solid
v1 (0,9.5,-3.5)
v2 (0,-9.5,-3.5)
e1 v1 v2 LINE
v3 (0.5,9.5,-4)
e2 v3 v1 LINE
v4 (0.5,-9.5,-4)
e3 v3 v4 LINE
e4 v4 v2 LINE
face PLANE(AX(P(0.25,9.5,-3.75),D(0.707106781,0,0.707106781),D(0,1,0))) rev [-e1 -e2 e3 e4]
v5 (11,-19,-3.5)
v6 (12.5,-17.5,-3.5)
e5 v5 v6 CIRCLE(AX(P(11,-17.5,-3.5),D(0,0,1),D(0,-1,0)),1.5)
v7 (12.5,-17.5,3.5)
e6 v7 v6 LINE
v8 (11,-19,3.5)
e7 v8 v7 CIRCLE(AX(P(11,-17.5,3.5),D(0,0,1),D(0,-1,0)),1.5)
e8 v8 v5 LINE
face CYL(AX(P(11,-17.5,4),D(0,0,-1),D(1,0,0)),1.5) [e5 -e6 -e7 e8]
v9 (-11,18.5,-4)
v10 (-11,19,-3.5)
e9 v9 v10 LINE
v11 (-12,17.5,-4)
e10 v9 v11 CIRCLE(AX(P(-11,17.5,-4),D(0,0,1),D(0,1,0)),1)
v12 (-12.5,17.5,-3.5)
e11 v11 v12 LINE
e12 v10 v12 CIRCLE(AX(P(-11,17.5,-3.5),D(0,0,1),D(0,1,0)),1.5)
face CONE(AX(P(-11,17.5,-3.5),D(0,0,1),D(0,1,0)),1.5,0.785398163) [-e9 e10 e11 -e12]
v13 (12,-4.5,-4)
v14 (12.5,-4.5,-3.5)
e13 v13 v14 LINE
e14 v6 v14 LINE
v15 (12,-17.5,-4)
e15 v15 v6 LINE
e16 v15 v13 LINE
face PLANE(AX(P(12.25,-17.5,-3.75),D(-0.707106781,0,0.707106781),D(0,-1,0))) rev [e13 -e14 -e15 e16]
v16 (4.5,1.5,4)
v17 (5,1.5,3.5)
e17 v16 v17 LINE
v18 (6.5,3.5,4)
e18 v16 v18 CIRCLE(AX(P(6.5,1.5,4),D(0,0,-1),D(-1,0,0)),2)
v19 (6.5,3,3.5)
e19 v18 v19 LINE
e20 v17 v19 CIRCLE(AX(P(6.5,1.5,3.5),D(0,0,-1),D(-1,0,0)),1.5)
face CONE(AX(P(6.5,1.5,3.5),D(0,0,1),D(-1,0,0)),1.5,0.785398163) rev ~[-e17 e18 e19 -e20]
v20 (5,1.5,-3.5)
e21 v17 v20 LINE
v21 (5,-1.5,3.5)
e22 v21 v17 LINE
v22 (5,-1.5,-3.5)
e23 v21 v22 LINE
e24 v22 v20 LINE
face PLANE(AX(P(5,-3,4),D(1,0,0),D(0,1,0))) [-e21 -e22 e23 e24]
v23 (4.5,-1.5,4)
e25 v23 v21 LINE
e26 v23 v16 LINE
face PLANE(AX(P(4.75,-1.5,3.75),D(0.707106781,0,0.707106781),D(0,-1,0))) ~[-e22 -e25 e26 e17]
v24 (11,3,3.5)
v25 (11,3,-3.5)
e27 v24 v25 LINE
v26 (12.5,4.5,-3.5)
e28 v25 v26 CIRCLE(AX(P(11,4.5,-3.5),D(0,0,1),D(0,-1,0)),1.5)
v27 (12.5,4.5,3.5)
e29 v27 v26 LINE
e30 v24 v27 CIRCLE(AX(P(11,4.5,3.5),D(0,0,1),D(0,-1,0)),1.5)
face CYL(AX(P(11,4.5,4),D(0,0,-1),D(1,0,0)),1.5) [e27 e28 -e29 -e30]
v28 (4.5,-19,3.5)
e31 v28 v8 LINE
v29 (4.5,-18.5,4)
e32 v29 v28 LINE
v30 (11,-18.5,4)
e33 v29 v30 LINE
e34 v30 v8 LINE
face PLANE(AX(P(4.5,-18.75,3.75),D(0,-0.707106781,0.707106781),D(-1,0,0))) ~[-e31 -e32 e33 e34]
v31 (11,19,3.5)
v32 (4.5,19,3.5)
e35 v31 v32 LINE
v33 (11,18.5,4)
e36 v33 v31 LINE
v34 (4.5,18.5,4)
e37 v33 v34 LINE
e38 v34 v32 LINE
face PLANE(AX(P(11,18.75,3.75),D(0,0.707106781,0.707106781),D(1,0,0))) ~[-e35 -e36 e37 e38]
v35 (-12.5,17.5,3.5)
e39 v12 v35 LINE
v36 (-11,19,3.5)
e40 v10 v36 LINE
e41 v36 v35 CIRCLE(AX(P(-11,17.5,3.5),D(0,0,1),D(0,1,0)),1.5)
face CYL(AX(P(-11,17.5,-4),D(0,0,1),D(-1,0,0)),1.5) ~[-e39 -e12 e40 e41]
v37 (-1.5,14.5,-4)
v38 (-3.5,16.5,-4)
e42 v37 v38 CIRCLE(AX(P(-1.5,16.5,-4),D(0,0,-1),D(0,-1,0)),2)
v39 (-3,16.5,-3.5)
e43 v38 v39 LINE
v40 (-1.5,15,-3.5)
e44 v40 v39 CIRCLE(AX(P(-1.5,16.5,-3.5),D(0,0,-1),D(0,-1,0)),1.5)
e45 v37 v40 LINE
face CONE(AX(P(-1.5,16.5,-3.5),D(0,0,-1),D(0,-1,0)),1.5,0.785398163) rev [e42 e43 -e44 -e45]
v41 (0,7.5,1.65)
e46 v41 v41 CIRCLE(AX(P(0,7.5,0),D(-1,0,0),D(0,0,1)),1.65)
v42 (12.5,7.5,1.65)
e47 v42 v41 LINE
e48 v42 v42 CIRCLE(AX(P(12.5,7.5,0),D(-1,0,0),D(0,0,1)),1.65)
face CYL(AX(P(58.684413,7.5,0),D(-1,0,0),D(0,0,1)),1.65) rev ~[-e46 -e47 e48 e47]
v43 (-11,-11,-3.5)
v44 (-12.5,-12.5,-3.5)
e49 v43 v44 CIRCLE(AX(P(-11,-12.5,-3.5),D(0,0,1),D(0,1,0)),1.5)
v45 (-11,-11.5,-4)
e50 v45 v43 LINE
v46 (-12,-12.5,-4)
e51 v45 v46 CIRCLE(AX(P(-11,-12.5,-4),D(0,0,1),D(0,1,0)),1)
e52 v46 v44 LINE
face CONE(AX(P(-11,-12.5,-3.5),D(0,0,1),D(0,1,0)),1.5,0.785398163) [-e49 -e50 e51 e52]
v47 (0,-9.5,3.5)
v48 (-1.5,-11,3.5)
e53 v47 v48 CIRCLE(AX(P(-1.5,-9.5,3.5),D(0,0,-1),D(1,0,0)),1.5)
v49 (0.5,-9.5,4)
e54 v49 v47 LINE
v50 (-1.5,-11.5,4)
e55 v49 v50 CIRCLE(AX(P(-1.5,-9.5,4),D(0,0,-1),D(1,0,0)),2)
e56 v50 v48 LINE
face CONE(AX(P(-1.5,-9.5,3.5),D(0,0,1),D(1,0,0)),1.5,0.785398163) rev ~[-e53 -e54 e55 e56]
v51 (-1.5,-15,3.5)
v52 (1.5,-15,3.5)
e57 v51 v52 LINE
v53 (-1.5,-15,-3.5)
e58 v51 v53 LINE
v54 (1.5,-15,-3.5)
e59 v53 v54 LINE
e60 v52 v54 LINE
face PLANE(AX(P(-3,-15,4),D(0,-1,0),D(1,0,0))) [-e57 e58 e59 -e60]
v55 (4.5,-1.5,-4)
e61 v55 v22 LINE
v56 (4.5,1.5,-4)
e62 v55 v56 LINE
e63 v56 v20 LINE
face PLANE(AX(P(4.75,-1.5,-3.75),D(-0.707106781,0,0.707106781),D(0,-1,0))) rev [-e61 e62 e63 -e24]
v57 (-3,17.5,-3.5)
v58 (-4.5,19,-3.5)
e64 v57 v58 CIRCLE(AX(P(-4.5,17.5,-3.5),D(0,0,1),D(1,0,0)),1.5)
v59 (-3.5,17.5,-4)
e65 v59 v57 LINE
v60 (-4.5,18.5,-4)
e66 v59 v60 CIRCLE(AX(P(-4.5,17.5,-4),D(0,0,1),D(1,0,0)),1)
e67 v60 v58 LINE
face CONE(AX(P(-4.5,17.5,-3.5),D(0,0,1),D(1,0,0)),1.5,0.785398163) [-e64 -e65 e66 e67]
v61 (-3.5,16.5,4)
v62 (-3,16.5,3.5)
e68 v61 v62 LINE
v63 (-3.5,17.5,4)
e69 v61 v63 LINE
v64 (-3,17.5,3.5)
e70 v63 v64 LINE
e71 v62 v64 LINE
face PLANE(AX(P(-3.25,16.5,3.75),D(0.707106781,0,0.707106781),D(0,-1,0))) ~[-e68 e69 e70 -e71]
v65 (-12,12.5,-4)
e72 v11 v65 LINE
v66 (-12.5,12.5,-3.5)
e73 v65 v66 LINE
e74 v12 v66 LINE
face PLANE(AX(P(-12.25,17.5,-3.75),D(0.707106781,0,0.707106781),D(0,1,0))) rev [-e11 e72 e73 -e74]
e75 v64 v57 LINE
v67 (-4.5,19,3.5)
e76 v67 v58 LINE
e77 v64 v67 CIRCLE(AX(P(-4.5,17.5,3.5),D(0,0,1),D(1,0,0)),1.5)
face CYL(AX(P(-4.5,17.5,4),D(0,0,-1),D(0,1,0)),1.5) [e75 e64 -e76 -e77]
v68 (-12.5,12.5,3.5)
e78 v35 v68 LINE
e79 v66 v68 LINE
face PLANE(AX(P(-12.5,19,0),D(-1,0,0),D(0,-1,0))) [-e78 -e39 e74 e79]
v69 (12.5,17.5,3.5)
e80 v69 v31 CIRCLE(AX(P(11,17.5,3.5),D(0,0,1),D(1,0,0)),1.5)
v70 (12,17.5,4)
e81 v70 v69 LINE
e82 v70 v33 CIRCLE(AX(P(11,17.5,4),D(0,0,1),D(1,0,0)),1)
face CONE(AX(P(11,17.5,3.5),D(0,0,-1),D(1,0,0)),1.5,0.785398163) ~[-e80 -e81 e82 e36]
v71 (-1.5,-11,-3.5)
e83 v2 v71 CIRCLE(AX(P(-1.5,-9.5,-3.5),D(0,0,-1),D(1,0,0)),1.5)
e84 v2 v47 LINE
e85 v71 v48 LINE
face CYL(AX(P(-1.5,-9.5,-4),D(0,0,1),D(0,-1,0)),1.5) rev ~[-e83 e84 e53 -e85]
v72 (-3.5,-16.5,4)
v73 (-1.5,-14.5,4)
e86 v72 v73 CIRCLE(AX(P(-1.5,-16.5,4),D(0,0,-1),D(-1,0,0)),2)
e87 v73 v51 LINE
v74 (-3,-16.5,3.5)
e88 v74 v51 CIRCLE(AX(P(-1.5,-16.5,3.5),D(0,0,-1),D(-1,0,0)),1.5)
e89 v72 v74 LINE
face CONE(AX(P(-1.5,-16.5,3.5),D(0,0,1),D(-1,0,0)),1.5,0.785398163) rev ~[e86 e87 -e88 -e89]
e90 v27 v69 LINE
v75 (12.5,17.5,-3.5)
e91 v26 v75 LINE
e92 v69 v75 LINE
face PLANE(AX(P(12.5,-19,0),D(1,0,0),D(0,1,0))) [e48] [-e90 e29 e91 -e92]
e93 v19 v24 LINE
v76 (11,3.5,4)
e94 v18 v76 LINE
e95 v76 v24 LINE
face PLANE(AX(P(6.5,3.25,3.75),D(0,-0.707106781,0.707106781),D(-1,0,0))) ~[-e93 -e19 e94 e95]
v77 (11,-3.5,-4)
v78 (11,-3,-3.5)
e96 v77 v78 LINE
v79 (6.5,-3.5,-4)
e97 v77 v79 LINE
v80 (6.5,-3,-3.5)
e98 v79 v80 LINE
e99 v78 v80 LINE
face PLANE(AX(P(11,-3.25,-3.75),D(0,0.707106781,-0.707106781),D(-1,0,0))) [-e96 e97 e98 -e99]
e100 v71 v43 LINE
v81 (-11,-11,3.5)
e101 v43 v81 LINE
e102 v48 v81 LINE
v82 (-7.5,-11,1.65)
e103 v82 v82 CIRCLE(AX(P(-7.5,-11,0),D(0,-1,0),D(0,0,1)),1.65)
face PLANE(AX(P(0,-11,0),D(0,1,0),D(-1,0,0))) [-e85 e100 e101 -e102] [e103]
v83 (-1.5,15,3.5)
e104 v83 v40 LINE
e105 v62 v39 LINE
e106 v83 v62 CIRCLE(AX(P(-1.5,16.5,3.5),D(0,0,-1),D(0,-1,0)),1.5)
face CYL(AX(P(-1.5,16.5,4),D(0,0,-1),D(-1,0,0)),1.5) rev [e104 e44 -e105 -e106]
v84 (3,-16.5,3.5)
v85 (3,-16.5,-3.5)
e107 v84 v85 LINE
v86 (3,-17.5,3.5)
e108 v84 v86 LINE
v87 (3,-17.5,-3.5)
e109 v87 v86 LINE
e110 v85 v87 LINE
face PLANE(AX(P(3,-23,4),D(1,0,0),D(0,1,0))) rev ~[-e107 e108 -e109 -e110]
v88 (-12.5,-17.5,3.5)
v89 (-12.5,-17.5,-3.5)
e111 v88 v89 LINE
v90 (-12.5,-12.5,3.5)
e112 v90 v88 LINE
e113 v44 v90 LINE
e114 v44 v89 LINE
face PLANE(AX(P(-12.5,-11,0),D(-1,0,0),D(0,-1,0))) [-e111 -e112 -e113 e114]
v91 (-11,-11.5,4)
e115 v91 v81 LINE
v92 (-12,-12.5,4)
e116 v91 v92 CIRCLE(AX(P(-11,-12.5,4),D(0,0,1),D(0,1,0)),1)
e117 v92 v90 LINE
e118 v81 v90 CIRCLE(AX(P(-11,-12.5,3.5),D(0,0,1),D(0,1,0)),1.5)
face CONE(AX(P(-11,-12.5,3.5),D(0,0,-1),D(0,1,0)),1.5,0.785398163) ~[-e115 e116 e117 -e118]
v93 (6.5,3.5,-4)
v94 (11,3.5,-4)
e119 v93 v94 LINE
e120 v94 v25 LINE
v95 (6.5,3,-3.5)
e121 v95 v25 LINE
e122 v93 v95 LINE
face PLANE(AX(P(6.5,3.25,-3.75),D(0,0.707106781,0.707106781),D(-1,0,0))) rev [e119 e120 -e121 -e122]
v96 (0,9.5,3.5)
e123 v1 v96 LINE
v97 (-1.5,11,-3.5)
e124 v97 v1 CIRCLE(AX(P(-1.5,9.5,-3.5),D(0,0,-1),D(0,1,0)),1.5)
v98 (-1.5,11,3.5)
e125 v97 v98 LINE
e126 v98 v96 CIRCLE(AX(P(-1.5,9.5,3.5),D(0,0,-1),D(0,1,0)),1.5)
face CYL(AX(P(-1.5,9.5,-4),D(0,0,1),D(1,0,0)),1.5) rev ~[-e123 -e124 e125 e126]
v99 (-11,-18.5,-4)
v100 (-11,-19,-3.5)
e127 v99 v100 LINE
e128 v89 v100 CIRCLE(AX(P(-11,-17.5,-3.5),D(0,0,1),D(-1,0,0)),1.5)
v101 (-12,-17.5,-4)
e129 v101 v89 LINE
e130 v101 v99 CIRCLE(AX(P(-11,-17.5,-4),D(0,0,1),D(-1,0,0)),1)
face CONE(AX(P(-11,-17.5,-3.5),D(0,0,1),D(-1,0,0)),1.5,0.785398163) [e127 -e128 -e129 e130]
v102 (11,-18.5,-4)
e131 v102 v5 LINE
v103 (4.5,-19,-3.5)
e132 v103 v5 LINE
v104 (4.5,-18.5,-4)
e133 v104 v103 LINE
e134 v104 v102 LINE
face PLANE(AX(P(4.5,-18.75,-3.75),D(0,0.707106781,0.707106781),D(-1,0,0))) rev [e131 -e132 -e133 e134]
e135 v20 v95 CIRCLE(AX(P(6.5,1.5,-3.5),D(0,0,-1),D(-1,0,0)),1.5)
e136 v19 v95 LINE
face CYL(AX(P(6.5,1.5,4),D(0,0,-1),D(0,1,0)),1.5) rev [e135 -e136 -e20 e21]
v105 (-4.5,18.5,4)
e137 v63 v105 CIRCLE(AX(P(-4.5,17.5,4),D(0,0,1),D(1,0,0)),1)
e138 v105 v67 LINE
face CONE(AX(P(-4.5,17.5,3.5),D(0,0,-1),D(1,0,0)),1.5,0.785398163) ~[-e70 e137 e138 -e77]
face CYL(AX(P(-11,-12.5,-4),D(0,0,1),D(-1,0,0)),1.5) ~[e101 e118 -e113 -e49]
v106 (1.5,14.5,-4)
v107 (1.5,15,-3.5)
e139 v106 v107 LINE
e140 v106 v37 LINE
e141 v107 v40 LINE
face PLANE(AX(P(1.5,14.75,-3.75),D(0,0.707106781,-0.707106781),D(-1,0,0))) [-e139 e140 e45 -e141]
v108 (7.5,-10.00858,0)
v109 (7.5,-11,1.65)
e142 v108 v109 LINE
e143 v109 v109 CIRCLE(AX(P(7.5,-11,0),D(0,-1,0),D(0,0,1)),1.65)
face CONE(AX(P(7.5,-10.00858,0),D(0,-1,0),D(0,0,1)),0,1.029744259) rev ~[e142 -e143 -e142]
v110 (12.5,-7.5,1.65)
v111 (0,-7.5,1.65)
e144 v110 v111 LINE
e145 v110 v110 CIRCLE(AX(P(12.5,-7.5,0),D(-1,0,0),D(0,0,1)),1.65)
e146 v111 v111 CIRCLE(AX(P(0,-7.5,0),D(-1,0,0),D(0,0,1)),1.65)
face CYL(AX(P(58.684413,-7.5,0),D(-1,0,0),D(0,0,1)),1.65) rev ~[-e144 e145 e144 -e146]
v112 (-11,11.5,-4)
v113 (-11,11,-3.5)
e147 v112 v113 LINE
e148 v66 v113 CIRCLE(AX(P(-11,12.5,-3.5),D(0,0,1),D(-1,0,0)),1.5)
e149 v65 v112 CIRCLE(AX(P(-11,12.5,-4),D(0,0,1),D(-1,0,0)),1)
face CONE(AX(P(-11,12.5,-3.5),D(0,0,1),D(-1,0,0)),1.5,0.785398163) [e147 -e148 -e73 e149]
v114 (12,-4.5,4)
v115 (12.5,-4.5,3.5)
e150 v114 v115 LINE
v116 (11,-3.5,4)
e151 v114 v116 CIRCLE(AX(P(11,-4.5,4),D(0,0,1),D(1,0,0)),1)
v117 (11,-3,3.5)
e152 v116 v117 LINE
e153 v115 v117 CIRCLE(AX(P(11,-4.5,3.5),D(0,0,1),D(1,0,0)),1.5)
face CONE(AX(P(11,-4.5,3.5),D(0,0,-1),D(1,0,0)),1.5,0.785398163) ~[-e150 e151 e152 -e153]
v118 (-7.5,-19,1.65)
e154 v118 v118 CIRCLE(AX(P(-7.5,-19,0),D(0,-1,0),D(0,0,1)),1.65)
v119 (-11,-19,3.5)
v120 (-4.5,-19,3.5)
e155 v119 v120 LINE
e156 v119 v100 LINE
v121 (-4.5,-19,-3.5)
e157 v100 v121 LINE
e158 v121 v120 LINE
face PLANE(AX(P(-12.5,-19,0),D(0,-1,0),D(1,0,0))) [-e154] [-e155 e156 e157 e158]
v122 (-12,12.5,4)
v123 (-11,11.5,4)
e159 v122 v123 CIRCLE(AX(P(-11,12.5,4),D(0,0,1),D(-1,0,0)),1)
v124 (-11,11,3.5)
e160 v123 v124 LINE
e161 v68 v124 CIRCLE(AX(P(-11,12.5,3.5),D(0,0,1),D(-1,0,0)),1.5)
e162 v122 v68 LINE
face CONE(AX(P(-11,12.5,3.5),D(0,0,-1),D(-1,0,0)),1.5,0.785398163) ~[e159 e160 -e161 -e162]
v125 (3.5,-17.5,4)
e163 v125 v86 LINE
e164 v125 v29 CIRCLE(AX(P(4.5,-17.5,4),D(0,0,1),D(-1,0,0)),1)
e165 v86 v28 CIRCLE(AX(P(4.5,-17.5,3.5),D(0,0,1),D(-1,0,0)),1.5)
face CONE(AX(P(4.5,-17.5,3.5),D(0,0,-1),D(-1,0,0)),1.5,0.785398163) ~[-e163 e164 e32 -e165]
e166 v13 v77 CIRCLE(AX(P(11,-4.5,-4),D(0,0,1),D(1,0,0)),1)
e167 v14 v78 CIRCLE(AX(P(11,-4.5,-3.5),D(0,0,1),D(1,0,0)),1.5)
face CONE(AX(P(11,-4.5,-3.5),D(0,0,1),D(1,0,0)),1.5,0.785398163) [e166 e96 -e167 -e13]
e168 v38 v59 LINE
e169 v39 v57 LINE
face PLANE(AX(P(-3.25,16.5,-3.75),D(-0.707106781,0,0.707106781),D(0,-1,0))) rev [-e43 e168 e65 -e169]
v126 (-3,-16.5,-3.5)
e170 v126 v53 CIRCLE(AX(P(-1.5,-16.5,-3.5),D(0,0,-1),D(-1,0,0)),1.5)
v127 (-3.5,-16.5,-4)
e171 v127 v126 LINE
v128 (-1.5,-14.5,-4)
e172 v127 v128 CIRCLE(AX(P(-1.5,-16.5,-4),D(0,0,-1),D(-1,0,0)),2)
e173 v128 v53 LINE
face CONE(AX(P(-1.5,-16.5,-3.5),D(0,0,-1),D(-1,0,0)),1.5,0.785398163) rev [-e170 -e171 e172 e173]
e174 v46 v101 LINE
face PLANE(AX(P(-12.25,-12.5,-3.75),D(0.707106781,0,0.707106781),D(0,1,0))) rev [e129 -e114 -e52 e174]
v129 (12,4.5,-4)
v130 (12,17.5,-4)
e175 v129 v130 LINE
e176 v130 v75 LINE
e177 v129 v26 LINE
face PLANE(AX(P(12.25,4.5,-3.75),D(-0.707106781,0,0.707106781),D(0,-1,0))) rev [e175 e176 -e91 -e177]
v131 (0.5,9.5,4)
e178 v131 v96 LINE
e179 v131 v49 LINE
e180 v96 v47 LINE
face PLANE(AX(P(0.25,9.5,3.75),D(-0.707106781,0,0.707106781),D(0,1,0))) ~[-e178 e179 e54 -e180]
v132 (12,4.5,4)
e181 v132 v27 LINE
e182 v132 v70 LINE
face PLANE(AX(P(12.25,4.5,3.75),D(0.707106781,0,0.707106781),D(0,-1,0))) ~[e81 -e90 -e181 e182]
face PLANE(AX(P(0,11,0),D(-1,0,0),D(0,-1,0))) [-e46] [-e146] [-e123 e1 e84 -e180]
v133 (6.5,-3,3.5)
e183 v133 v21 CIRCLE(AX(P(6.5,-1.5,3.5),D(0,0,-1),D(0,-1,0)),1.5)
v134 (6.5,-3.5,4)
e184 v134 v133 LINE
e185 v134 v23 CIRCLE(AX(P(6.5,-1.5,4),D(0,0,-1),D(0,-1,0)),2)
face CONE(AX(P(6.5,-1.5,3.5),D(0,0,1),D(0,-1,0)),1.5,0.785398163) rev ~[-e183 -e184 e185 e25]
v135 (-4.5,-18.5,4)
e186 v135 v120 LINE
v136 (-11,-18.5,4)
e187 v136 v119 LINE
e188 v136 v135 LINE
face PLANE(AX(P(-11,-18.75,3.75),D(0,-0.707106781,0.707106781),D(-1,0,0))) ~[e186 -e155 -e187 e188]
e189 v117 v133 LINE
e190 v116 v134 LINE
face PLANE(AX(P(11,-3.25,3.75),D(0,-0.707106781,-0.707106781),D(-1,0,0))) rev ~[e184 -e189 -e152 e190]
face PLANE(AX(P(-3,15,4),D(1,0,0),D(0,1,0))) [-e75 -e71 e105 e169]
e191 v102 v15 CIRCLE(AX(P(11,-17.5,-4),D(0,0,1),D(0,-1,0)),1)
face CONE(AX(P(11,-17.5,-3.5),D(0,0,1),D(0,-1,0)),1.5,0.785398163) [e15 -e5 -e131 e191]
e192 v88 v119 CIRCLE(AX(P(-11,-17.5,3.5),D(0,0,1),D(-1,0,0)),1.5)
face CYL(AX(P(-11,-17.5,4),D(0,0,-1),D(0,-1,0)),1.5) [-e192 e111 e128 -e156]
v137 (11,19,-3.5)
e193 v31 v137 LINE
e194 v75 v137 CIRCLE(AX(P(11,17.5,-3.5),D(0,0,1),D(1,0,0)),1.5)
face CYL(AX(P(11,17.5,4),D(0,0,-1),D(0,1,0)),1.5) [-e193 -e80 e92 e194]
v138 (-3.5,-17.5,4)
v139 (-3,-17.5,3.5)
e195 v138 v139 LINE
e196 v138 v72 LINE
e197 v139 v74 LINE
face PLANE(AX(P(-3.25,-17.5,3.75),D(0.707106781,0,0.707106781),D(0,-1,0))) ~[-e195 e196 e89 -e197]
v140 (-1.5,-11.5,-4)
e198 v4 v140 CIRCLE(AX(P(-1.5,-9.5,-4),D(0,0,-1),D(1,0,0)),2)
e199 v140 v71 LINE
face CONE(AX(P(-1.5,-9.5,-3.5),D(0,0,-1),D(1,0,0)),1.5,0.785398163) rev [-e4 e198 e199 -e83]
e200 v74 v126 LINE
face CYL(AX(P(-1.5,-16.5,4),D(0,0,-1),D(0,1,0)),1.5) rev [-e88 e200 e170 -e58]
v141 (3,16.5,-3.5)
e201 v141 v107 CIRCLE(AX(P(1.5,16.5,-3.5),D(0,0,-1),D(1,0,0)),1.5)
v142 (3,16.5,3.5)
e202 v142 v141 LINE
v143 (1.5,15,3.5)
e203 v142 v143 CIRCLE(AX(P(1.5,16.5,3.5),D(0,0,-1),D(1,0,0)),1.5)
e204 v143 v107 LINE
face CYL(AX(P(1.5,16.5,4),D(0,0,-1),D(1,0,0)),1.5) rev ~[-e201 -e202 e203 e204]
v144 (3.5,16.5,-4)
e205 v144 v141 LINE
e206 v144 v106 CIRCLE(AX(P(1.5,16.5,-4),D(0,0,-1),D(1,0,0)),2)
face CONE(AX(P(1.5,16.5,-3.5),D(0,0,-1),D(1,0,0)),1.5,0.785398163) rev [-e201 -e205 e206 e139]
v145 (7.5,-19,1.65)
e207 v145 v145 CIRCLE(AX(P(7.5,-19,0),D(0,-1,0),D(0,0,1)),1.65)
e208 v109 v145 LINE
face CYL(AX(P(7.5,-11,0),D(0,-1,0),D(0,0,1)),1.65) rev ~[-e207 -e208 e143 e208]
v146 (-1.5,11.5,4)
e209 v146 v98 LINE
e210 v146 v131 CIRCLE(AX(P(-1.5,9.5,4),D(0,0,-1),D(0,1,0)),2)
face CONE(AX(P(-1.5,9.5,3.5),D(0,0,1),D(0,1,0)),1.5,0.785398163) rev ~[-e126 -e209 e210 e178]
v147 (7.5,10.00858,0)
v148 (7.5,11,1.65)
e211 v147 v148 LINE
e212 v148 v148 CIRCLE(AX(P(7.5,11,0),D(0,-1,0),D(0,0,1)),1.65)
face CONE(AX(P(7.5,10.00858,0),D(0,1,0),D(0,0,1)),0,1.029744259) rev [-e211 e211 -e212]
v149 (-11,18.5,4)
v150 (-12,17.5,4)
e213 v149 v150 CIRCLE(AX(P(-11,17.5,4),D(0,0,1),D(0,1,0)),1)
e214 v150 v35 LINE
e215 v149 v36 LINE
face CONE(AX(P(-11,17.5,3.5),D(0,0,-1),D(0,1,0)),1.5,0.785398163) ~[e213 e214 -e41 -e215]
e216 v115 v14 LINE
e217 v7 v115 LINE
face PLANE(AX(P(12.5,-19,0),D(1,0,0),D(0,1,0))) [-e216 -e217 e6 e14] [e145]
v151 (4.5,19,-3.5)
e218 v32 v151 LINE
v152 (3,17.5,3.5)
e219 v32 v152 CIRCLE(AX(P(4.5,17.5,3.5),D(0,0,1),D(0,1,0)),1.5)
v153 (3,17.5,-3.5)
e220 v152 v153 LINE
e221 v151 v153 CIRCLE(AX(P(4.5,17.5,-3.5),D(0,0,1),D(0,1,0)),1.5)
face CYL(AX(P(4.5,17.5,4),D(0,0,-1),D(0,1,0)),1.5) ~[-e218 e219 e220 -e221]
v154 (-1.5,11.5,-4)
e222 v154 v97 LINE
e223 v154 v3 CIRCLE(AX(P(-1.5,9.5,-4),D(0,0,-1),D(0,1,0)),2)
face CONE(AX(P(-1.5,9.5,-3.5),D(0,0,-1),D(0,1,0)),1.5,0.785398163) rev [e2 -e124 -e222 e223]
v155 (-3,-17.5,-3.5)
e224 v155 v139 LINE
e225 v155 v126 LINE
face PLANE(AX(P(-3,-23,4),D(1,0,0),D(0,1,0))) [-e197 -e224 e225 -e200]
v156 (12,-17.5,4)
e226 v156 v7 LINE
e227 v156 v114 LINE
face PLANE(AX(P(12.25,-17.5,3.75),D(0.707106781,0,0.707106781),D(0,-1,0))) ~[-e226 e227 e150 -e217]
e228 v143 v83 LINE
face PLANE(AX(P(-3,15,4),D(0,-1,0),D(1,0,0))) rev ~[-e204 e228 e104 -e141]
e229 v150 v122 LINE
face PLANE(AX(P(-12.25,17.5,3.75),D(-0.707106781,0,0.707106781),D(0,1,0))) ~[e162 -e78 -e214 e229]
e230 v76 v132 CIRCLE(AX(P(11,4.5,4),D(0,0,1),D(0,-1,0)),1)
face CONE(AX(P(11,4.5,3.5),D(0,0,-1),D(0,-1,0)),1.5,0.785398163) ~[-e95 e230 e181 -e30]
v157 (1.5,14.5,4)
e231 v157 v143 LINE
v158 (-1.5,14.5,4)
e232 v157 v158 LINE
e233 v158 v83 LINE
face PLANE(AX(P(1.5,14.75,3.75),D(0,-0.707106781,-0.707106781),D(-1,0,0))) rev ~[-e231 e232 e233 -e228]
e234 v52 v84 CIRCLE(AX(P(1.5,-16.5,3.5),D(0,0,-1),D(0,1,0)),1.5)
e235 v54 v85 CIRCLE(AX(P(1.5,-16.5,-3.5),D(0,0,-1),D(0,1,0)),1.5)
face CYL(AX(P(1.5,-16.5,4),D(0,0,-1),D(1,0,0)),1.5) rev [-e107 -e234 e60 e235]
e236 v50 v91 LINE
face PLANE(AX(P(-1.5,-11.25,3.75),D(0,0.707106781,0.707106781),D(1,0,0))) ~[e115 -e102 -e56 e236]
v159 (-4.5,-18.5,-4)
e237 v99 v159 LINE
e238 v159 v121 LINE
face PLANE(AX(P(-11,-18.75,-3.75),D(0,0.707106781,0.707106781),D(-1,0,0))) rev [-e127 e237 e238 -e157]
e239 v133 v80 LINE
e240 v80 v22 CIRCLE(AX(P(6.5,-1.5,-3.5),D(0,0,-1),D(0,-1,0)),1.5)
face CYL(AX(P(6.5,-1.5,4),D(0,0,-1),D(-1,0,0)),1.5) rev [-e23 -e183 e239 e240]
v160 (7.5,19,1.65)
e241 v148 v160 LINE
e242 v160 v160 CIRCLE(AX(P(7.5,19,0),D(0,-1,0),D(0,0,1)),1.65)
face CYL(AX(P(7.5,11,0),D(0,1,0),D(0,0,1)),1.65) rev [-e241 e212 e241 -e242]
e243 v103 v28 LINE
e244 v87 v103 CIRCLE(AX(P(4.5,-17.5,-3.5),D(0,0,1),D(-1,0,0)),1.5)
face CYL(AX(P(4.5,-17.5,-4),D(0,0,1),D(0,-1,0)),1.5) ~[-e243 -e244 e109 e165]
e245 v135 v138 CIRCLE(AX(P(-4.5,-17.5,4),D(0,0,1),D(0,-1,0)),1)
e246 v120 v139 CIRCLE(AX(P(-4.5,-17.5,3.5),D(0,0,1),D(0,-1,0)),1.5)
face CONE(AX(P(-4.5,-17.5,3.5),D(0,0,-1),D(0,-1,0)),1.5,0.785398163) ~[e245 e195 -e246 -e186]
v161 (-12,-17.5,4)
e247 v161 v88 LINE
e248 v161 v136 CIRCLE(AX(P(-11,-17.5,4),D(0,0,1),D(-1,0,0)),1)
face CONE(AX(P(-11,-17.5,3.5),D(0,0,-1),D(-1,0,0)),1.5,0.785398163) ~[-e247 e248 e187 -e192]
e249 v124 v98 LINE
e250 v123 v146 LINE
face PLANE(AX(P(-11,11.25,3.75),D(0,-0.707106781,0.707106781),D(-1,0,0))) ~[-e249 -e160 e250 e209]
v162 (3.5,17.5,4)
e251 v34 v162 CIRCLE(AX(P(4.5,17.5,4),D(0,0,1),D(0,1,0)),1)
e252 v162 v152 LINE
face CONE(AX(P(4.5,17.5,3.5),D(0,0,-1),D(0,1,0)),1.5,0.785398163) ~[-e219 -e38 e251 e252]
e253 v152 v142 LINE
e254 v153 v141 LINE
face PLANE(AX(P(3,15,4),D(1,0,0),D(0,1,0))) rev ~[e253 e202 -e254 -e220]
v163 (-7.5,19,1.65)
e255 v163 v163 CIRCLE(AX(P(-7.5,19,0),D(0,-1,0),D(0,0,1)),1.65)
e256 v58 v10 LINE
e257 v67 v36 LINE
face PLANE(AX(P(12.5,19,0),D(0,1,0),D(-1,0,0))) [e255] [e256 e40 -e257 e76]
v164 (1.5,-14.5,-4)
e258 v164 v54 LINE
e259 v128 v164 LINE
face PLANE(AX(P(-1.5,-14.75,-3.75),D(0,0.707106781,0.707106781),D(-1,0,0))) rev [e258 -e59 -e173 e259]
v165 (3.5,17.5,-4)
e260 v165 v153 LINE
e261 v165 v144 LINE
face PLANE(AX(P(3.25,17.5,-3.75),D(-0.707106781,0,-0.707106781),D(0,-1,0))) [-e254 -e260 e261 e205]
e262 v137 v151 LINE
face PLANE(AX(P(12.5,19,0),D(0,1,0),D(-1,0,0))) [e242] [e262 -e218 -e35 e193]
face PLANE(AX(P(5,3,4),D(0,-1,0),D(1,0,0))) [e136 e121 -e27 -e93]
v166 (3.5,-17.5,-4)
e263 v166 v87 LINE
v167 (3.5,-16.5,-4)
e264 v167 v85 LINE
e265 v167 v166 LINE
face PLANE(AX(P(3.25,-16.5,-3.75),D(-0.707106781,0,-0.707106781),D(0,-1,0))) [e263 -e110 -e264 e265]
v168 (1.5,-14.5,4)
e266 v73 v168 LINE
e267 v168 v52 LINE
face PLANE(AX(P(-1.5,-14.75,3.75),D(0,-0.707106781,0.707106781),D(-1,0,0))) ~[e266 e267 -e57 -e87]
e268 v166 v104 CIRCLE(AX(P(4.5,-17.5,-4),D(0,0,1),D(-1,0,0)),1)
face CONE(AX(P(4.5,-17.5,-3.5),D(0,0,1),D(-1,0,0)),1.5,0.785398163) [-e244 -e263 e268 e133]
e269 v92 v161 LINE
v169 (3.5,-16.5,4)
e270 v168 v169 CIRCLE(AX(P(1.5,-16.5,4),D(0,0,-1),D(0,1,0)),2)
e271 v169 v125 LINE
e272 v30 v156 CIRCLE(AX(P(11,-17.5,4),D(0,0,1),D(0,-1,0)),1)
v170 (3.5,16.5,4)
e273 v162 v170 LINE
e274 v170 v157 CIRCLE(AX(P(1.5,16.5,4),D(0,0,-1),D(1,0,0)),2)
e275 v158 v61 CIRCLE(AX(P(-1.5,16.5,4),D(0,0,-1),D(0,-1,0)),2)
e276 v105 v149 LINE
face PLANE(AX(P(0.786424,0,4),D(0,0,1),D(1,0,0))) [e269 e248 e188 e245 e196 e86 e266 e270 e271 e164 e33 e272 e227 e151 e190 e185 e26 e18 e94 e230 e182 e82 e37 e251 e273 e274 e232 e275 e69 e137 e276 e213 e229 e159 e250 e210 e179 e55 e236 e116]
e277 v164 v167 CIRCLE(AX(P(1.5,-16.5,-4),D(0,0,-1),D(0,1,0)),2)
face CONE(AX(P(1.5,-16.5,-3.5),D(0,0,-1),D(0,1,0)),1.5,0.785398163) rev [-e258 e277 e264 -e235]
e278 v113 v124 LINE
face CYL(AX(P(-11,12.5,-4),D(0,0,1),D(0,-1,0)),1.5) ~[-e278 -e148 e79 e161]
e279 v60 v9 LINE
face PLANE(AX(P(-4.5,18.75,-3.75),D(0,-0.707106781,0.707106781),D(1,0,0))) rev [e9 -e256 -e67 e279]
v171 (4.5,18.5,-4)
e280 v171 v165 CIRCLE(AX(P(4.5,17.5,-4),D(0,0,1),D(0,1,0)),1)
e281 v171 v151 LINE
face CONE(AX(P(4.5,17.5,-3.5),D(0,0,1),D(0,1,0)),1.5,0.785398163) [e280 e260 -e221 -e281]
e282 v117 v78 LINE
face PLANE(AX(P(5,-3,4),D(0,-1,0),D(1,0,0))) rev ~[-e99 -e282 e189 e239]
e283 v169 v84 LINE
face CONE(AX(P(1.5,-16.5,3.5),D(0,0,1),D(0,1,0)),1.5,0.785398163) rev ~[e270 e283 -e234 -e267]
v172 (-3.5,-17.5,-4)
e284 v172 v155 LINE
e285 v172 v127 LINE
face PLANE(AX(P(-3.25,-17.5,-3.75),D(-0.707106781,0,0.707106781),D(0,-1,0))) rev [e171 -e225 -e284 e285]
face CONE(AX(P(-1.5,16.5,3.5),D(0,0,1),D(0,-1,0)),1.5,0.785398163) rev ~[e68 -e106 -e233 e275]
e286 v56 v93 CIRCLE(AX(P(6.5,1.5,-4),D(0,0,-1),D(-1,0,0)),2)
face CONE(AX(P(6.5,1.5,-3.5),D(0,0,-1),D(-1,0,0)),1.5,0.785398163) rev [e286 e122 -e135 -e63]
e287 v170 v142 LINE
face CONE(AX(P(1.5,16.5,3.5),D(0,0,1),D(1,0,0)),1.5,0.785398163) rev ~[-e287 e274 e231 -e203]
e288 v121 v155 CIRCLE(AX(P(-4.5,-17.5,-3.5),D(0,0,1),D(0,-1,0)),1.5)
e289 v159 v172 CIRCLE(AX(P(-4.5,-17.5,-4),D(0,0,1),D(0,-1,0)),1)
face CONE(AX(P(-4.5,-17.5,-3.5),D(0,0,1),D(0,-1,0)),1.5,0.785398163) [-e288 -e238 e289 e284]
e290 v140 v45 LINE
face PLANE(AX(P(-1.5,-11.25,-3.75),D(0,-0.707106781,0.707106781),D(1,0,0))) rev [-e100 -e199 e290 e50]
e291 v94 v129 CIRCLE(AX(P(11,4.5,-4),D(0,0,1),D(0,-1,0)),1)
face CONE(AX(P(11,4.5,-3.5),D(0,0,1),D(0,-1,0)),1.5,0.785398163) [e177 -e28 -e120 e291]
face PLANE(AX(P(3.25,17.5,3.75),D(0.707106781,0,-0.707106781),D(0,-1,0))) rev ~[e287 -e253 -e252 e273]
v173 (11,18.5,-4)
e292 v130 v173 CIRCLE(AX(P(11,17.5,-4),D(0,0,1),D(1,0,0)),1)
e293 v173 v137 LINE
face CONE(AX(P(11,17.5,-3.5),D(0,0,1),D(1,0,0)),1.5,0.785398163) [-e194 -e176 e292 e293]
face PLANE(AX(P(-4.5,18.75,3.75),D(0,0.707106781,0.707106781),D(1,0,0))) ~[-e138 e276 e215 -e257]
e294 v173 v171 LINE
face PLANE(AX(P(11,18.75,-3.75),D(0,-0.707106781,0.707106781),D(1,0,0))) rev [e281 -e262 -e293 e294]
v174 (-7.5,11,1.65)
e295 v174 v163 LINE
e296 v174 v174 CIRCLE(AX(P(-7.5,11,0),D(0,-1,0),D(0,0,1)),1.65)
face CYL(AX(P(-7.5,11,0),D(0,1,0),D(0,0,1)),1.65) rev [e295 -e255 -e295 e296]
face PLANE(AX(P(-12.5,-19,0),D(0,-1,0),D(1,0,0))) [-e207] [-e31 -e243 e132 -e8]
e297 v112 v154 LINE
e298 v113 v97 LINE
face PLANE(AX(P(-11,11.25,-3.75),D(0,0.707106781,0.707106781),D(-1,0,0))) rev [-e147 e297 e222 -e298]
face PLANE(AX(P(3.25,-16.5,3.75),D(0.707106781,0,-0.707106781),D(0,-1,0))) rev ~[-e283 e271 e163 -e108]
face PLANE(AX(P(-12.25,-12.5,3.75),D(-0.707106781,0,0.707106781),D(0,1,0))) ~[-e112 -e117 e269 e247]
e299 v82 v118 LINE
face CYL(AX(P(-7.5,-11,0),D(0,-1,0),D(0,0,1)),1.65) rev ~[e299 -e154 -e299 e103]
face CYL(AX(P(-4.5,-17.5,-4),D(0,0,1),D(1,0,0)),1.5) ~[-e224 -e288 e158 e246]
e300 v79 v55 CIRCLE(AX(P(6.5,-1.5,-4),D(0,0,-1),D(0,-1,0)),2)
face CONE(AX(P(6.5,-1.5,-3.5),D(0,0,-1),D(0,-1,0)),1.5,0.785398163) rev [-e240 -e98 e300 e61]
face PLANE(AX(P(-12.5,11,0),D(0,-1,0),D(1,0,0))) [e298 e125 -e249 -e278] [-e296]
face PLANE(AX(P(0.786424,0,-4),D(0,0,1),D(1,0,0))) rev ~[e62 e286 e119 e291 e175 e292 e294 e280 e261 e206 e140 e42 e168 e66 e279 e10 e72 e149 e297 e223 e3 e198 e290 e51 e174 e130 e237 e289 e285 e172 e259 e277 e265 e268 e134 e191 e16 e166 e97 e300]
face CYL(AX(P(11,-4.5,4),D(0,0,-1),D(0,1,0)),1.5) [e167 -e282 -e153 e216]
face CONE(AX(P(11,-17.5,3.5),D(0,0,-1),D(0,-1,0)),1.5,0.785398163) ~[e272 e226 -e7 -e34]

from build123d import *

# Parameters (mm, degrees)
EXTRUDE_1_DEPTH             = 4
SKETCH_2_R                  = 1.5
CUT_EXTRUDE_1_DEPTH         = 8
SKETCH_3_R                  = 1.5
CUT_EXTRUDE_2_DEPTH         = 24.092206478
HOLE_WIZARD_M4_1_D          = 3.3
HOLE_WIZARD_M4_2_AT_2_COUNT = 2
HOLE_WIZARD_M4_2_AT_2_PITCH = 15
SKETCH_9_W                  = 15
SKETCH_9_H                  = 6
SKETCH_9_W_2                = 6
SKETCH_9_H_2                = 8
CUT_EXTRUDE_3_DEPTH         = 25.109126902
FILLET_1_R                  = 1.5
CHAMFER_1_SIZE              = 0.5


with BuildPart() as part:
    # 草图1 → 凸台-拉伸1 (new, symmetric)
    with BuildSketch(Plane.XY):
        Polygon((12.5, 19), (-12.5, 19), (-12.5, 11), (0, 11), (0, -11), (-12.5, -11), (-12.5, -19), (12.5, -19), align=None)
    extrude(amount=EXTRUDE_1_DEPTH, both=True)

    # 草图2 → 切除-拉伸1 (cut)
    with BuildSketch(Plane(origin=(0, 19, 0), x_dir=(1, 0, 0), z_dir=(0, 1, 0))):
        with Locations(Location((-7.5, 0, 0), (0, 0, 270))):
            Circle(SKETCH_2_R)
        with Locations(Location((7.5, 0, 0), (0, 0, 270))):
            Circle(SKETCH_2_R)
    extrude(amount=-CUT_EXTRUDE_1_DEPTH, mode=Mode.SUBTRACT)

    # 草图3 → 切除-拉伸2 (cut, through all)
    with BuildSketch(Plane.ZY):
        with Locations((0, 7.5)):
            Circle(SKETCH_3_R)
        with Locations((0, -7.5)):
            Circle(SKETCH_3_R)
    extrude(amount=-CUT_EXTRUDE_2_DEPTH, mode=Mode.SUBTRACT)

    # M4 螺纹孔1 (through all)
    with Locations(Plane(origin=(12.5, 0, 0), x_dir=(0, 0, -1), z_dir=(1, 0, 0))):
        with Locations((0, 7.5), (0, -7.5)):
            Hole(HOLE_WIZARD_M4_1_D / 2)

    # 草图8 → M4 螺纹孔2 (revolve, cut)
    with BuildSketch(Plane(origin=(-7.5, 19, 0), x_dir=(0, 0, 1), z_dir=(1, 0, 0))):
        Polygon((0, 0), (0, 8.991420021), (1.65, 8), (1.65, 0), align=None)
    hole_wizard_m4_2 = revolve(axis=Axis((-7.5, 25.35, 0), (0, -1, 0)), mode=Mode.SUBTRACT)

    # M4 螺纹孔2 at 2: M4 螺纹孔2 ×2
    with Locations(*[(i * HOLE_WIZARD_M4_2_AT_2_PITCH, 0, 0) for i in range(1, HOLE_WIZARD_M4_2_AT_2_COUNT)]):
        add(hole_wizard_m4_2, mode=Mode.SUBTRACT)

    # 镜向1: M4 螺纹孔2 across plane
    add(hole_wizard_m4_2.mirror(Plane.ZX), mode=Mode.SUBTRACT)

    # 镜向1 copy 1 sketch → 镜向1 copy 1 (revolve, cut)
    with BuildSketch(Plane(origin=(7.5, -19, 0), x_dir=(0, 0, 1), z_dir=(1, 0, 0))):
        Polygon((0, 0), (0, -8.991420021), (1.65, -8), (1.65, 0), align=None)
    revolve(axis=Axis((7.5, -25.35, 0), (0, -1, 0)), mode=Mode.SUBTRACT)

    # 草图9 → 切除-拉伸3 (cut, through all)
    with BuildSketch(Plane.XY.offset(4)):
        with Locations((12.5, 0)):
            Rectangle(SKETCH_9_W, SKETCH_9_H)
        with Locations((0, 19)):
            Rectangle(SKETCH_9_W_2, SKETCH_9_H_2)
        with Locations((0, -19)):
            Rectangle(SKETCH_9_W_2, SKETCH_9_H_2)
    extrude(amount=-CUT_EXTRUDE_3_DEPTH, mode=Mode.SUBTRACT)

    # 圆角1
    fillet_1_edges = [part.edges().sort_by_distance(p)[0] for p in [
        (3, 19, 0),
        (-3, 19, 0),
        (3, 15, 0),
        (-3, 15, 0),
        (3, -19, 0),
        (3, -15, 0),
        (-3, -19, 0),
        (-3, -15, 0),
        (-12.5, 11, 0),
        (-12.5, 19, 0),
        (12.5, 19, 0),
        (12.5, -19, 0),
        (-12.5, -19, 0),
        (-12.5, -11, 0),
        (0, -11, 0),
        (0, 11, 0),
        (12.5, 3, 0),
        (12.5, -3, 0),
        (5, -3, 0),
        (5, 3, 0),
    ]]
    fillet(fillet_1_edges, radius=FILLET_1_R)

    # 倒角1
    chamfer_1_edges = [part.edges().sort_by_distance(p)[0] for p in [
        (7.75, -19, 4),
        (7.75, -19, -4),
        (12.5, 11, -4),
        (8.75, 3, -4),
        (5, 0, -4),
        (8.75, -3, -4),
        (12.5, -11, -4),
        (3, -17, -4),
        (0, -15, -4),
        (-3, -17, -4),
        (-7.75, -19, -4),
        (-12.5, -15, -4),
        (-6.25, -11, -4),
        (0, 0, -4),
        (-6.25, 11, -4),
        (-12.5, 15, -4),
        (-7.75, 19, -4),
        (-3, 17, -4),
        (0, 15, -4),
        (3, 17, -4),
        (7.75, 19, -4),
        (-12.060660172, 11.439339828, -4),
        (-12.060660172, -11.439339828, -4),
        (-12.060660172, -18.560660172, -4),
        (12.060660172, -18.560660172, -4),
        (12.060660172, 18.560660172, -4),
        (-12.060660172, 18.560660172, -4),
        (12.060660172, -3.439339828, -4),
        (12.060660172, 3.439339828, -4),
        (3.439339828, 18.560660172, -4),
        (-3.439339828, 18.560660172, -4),
        (-3.439339828, -18.560660172, -4),
        (3.439339828, -18.560660172, -4),
        (3, -17, 4),
        (8.75, 3, 4),
        (12.5, 11, 4),
        (7.75, 19, 4),
        (3, 17, 4),
        (0, 15, 4),
        (-3, 17, 4),
        (-7.75, 19, 4),
        (-12.5, 15, 4),
        (-6.25, 11, 4),
        (0, 0, 4),
        (-6.25, -11, 4),
        (-12.5, -15, 4),
        (-7.75, -19, 4),
        (-3, -17, 4),
        (0, -15, 4),
        (12.5, -11, 4),
        (8.75, -3, 4),
        (5, 0, 4),
        (-12.060660172, 11.439339828, 4),
        (-12.060660172, -11.439339828, 4),
        (-12.060660172, -18.560660172, 4),
        (12.060660172, -18.560660172, 4),
        (12.060660172, 18.560660172, 4),
        (-12.060660172, 18.560660172, 4),
        (12.060660172, -3.439339828, 4),
        (12.060660172, 3.439339828, 4),
        (3.439339828, 18.560660172, 4),
        (-3.439339828, 18.560660172, 4),
        (-3.439339828, -18.560660172, 4),
        (3.439339828, -18.560660172, 4),
        (2.560660172, -15.439339828, 4),
        (2.560660172, -15.439339828, -4),
        (-2.560660172, -15.439339828, 4),
        (-2.560660172, -15.439339828, -4),
        (-2.560660172, 15.439339828, 4),
        (-2.560660172, 15.439339828, -4),
        (2.560660172, 15.439339828, 4),
        (2.560660172, 15.439339828, -4),
        (5.439339828, 2.560660172, 4),
        (5.439339828, 2.560660172, -4),
        (5.439339828, -2.560660172, 4),
        (5.439339828, -2.560660172, -4),
        (-0.439339828, -10.560660172, -4),
        (-0.439339828, -10.560660172, 4),
        (-0.439339828, 10.560660172, -4),
        (-0.439339828, 10.560660172, 4),
    ]]
    chamfer(chamfer_1_edges, length=CHAMFER_1_SIZE)


solid = part.part
